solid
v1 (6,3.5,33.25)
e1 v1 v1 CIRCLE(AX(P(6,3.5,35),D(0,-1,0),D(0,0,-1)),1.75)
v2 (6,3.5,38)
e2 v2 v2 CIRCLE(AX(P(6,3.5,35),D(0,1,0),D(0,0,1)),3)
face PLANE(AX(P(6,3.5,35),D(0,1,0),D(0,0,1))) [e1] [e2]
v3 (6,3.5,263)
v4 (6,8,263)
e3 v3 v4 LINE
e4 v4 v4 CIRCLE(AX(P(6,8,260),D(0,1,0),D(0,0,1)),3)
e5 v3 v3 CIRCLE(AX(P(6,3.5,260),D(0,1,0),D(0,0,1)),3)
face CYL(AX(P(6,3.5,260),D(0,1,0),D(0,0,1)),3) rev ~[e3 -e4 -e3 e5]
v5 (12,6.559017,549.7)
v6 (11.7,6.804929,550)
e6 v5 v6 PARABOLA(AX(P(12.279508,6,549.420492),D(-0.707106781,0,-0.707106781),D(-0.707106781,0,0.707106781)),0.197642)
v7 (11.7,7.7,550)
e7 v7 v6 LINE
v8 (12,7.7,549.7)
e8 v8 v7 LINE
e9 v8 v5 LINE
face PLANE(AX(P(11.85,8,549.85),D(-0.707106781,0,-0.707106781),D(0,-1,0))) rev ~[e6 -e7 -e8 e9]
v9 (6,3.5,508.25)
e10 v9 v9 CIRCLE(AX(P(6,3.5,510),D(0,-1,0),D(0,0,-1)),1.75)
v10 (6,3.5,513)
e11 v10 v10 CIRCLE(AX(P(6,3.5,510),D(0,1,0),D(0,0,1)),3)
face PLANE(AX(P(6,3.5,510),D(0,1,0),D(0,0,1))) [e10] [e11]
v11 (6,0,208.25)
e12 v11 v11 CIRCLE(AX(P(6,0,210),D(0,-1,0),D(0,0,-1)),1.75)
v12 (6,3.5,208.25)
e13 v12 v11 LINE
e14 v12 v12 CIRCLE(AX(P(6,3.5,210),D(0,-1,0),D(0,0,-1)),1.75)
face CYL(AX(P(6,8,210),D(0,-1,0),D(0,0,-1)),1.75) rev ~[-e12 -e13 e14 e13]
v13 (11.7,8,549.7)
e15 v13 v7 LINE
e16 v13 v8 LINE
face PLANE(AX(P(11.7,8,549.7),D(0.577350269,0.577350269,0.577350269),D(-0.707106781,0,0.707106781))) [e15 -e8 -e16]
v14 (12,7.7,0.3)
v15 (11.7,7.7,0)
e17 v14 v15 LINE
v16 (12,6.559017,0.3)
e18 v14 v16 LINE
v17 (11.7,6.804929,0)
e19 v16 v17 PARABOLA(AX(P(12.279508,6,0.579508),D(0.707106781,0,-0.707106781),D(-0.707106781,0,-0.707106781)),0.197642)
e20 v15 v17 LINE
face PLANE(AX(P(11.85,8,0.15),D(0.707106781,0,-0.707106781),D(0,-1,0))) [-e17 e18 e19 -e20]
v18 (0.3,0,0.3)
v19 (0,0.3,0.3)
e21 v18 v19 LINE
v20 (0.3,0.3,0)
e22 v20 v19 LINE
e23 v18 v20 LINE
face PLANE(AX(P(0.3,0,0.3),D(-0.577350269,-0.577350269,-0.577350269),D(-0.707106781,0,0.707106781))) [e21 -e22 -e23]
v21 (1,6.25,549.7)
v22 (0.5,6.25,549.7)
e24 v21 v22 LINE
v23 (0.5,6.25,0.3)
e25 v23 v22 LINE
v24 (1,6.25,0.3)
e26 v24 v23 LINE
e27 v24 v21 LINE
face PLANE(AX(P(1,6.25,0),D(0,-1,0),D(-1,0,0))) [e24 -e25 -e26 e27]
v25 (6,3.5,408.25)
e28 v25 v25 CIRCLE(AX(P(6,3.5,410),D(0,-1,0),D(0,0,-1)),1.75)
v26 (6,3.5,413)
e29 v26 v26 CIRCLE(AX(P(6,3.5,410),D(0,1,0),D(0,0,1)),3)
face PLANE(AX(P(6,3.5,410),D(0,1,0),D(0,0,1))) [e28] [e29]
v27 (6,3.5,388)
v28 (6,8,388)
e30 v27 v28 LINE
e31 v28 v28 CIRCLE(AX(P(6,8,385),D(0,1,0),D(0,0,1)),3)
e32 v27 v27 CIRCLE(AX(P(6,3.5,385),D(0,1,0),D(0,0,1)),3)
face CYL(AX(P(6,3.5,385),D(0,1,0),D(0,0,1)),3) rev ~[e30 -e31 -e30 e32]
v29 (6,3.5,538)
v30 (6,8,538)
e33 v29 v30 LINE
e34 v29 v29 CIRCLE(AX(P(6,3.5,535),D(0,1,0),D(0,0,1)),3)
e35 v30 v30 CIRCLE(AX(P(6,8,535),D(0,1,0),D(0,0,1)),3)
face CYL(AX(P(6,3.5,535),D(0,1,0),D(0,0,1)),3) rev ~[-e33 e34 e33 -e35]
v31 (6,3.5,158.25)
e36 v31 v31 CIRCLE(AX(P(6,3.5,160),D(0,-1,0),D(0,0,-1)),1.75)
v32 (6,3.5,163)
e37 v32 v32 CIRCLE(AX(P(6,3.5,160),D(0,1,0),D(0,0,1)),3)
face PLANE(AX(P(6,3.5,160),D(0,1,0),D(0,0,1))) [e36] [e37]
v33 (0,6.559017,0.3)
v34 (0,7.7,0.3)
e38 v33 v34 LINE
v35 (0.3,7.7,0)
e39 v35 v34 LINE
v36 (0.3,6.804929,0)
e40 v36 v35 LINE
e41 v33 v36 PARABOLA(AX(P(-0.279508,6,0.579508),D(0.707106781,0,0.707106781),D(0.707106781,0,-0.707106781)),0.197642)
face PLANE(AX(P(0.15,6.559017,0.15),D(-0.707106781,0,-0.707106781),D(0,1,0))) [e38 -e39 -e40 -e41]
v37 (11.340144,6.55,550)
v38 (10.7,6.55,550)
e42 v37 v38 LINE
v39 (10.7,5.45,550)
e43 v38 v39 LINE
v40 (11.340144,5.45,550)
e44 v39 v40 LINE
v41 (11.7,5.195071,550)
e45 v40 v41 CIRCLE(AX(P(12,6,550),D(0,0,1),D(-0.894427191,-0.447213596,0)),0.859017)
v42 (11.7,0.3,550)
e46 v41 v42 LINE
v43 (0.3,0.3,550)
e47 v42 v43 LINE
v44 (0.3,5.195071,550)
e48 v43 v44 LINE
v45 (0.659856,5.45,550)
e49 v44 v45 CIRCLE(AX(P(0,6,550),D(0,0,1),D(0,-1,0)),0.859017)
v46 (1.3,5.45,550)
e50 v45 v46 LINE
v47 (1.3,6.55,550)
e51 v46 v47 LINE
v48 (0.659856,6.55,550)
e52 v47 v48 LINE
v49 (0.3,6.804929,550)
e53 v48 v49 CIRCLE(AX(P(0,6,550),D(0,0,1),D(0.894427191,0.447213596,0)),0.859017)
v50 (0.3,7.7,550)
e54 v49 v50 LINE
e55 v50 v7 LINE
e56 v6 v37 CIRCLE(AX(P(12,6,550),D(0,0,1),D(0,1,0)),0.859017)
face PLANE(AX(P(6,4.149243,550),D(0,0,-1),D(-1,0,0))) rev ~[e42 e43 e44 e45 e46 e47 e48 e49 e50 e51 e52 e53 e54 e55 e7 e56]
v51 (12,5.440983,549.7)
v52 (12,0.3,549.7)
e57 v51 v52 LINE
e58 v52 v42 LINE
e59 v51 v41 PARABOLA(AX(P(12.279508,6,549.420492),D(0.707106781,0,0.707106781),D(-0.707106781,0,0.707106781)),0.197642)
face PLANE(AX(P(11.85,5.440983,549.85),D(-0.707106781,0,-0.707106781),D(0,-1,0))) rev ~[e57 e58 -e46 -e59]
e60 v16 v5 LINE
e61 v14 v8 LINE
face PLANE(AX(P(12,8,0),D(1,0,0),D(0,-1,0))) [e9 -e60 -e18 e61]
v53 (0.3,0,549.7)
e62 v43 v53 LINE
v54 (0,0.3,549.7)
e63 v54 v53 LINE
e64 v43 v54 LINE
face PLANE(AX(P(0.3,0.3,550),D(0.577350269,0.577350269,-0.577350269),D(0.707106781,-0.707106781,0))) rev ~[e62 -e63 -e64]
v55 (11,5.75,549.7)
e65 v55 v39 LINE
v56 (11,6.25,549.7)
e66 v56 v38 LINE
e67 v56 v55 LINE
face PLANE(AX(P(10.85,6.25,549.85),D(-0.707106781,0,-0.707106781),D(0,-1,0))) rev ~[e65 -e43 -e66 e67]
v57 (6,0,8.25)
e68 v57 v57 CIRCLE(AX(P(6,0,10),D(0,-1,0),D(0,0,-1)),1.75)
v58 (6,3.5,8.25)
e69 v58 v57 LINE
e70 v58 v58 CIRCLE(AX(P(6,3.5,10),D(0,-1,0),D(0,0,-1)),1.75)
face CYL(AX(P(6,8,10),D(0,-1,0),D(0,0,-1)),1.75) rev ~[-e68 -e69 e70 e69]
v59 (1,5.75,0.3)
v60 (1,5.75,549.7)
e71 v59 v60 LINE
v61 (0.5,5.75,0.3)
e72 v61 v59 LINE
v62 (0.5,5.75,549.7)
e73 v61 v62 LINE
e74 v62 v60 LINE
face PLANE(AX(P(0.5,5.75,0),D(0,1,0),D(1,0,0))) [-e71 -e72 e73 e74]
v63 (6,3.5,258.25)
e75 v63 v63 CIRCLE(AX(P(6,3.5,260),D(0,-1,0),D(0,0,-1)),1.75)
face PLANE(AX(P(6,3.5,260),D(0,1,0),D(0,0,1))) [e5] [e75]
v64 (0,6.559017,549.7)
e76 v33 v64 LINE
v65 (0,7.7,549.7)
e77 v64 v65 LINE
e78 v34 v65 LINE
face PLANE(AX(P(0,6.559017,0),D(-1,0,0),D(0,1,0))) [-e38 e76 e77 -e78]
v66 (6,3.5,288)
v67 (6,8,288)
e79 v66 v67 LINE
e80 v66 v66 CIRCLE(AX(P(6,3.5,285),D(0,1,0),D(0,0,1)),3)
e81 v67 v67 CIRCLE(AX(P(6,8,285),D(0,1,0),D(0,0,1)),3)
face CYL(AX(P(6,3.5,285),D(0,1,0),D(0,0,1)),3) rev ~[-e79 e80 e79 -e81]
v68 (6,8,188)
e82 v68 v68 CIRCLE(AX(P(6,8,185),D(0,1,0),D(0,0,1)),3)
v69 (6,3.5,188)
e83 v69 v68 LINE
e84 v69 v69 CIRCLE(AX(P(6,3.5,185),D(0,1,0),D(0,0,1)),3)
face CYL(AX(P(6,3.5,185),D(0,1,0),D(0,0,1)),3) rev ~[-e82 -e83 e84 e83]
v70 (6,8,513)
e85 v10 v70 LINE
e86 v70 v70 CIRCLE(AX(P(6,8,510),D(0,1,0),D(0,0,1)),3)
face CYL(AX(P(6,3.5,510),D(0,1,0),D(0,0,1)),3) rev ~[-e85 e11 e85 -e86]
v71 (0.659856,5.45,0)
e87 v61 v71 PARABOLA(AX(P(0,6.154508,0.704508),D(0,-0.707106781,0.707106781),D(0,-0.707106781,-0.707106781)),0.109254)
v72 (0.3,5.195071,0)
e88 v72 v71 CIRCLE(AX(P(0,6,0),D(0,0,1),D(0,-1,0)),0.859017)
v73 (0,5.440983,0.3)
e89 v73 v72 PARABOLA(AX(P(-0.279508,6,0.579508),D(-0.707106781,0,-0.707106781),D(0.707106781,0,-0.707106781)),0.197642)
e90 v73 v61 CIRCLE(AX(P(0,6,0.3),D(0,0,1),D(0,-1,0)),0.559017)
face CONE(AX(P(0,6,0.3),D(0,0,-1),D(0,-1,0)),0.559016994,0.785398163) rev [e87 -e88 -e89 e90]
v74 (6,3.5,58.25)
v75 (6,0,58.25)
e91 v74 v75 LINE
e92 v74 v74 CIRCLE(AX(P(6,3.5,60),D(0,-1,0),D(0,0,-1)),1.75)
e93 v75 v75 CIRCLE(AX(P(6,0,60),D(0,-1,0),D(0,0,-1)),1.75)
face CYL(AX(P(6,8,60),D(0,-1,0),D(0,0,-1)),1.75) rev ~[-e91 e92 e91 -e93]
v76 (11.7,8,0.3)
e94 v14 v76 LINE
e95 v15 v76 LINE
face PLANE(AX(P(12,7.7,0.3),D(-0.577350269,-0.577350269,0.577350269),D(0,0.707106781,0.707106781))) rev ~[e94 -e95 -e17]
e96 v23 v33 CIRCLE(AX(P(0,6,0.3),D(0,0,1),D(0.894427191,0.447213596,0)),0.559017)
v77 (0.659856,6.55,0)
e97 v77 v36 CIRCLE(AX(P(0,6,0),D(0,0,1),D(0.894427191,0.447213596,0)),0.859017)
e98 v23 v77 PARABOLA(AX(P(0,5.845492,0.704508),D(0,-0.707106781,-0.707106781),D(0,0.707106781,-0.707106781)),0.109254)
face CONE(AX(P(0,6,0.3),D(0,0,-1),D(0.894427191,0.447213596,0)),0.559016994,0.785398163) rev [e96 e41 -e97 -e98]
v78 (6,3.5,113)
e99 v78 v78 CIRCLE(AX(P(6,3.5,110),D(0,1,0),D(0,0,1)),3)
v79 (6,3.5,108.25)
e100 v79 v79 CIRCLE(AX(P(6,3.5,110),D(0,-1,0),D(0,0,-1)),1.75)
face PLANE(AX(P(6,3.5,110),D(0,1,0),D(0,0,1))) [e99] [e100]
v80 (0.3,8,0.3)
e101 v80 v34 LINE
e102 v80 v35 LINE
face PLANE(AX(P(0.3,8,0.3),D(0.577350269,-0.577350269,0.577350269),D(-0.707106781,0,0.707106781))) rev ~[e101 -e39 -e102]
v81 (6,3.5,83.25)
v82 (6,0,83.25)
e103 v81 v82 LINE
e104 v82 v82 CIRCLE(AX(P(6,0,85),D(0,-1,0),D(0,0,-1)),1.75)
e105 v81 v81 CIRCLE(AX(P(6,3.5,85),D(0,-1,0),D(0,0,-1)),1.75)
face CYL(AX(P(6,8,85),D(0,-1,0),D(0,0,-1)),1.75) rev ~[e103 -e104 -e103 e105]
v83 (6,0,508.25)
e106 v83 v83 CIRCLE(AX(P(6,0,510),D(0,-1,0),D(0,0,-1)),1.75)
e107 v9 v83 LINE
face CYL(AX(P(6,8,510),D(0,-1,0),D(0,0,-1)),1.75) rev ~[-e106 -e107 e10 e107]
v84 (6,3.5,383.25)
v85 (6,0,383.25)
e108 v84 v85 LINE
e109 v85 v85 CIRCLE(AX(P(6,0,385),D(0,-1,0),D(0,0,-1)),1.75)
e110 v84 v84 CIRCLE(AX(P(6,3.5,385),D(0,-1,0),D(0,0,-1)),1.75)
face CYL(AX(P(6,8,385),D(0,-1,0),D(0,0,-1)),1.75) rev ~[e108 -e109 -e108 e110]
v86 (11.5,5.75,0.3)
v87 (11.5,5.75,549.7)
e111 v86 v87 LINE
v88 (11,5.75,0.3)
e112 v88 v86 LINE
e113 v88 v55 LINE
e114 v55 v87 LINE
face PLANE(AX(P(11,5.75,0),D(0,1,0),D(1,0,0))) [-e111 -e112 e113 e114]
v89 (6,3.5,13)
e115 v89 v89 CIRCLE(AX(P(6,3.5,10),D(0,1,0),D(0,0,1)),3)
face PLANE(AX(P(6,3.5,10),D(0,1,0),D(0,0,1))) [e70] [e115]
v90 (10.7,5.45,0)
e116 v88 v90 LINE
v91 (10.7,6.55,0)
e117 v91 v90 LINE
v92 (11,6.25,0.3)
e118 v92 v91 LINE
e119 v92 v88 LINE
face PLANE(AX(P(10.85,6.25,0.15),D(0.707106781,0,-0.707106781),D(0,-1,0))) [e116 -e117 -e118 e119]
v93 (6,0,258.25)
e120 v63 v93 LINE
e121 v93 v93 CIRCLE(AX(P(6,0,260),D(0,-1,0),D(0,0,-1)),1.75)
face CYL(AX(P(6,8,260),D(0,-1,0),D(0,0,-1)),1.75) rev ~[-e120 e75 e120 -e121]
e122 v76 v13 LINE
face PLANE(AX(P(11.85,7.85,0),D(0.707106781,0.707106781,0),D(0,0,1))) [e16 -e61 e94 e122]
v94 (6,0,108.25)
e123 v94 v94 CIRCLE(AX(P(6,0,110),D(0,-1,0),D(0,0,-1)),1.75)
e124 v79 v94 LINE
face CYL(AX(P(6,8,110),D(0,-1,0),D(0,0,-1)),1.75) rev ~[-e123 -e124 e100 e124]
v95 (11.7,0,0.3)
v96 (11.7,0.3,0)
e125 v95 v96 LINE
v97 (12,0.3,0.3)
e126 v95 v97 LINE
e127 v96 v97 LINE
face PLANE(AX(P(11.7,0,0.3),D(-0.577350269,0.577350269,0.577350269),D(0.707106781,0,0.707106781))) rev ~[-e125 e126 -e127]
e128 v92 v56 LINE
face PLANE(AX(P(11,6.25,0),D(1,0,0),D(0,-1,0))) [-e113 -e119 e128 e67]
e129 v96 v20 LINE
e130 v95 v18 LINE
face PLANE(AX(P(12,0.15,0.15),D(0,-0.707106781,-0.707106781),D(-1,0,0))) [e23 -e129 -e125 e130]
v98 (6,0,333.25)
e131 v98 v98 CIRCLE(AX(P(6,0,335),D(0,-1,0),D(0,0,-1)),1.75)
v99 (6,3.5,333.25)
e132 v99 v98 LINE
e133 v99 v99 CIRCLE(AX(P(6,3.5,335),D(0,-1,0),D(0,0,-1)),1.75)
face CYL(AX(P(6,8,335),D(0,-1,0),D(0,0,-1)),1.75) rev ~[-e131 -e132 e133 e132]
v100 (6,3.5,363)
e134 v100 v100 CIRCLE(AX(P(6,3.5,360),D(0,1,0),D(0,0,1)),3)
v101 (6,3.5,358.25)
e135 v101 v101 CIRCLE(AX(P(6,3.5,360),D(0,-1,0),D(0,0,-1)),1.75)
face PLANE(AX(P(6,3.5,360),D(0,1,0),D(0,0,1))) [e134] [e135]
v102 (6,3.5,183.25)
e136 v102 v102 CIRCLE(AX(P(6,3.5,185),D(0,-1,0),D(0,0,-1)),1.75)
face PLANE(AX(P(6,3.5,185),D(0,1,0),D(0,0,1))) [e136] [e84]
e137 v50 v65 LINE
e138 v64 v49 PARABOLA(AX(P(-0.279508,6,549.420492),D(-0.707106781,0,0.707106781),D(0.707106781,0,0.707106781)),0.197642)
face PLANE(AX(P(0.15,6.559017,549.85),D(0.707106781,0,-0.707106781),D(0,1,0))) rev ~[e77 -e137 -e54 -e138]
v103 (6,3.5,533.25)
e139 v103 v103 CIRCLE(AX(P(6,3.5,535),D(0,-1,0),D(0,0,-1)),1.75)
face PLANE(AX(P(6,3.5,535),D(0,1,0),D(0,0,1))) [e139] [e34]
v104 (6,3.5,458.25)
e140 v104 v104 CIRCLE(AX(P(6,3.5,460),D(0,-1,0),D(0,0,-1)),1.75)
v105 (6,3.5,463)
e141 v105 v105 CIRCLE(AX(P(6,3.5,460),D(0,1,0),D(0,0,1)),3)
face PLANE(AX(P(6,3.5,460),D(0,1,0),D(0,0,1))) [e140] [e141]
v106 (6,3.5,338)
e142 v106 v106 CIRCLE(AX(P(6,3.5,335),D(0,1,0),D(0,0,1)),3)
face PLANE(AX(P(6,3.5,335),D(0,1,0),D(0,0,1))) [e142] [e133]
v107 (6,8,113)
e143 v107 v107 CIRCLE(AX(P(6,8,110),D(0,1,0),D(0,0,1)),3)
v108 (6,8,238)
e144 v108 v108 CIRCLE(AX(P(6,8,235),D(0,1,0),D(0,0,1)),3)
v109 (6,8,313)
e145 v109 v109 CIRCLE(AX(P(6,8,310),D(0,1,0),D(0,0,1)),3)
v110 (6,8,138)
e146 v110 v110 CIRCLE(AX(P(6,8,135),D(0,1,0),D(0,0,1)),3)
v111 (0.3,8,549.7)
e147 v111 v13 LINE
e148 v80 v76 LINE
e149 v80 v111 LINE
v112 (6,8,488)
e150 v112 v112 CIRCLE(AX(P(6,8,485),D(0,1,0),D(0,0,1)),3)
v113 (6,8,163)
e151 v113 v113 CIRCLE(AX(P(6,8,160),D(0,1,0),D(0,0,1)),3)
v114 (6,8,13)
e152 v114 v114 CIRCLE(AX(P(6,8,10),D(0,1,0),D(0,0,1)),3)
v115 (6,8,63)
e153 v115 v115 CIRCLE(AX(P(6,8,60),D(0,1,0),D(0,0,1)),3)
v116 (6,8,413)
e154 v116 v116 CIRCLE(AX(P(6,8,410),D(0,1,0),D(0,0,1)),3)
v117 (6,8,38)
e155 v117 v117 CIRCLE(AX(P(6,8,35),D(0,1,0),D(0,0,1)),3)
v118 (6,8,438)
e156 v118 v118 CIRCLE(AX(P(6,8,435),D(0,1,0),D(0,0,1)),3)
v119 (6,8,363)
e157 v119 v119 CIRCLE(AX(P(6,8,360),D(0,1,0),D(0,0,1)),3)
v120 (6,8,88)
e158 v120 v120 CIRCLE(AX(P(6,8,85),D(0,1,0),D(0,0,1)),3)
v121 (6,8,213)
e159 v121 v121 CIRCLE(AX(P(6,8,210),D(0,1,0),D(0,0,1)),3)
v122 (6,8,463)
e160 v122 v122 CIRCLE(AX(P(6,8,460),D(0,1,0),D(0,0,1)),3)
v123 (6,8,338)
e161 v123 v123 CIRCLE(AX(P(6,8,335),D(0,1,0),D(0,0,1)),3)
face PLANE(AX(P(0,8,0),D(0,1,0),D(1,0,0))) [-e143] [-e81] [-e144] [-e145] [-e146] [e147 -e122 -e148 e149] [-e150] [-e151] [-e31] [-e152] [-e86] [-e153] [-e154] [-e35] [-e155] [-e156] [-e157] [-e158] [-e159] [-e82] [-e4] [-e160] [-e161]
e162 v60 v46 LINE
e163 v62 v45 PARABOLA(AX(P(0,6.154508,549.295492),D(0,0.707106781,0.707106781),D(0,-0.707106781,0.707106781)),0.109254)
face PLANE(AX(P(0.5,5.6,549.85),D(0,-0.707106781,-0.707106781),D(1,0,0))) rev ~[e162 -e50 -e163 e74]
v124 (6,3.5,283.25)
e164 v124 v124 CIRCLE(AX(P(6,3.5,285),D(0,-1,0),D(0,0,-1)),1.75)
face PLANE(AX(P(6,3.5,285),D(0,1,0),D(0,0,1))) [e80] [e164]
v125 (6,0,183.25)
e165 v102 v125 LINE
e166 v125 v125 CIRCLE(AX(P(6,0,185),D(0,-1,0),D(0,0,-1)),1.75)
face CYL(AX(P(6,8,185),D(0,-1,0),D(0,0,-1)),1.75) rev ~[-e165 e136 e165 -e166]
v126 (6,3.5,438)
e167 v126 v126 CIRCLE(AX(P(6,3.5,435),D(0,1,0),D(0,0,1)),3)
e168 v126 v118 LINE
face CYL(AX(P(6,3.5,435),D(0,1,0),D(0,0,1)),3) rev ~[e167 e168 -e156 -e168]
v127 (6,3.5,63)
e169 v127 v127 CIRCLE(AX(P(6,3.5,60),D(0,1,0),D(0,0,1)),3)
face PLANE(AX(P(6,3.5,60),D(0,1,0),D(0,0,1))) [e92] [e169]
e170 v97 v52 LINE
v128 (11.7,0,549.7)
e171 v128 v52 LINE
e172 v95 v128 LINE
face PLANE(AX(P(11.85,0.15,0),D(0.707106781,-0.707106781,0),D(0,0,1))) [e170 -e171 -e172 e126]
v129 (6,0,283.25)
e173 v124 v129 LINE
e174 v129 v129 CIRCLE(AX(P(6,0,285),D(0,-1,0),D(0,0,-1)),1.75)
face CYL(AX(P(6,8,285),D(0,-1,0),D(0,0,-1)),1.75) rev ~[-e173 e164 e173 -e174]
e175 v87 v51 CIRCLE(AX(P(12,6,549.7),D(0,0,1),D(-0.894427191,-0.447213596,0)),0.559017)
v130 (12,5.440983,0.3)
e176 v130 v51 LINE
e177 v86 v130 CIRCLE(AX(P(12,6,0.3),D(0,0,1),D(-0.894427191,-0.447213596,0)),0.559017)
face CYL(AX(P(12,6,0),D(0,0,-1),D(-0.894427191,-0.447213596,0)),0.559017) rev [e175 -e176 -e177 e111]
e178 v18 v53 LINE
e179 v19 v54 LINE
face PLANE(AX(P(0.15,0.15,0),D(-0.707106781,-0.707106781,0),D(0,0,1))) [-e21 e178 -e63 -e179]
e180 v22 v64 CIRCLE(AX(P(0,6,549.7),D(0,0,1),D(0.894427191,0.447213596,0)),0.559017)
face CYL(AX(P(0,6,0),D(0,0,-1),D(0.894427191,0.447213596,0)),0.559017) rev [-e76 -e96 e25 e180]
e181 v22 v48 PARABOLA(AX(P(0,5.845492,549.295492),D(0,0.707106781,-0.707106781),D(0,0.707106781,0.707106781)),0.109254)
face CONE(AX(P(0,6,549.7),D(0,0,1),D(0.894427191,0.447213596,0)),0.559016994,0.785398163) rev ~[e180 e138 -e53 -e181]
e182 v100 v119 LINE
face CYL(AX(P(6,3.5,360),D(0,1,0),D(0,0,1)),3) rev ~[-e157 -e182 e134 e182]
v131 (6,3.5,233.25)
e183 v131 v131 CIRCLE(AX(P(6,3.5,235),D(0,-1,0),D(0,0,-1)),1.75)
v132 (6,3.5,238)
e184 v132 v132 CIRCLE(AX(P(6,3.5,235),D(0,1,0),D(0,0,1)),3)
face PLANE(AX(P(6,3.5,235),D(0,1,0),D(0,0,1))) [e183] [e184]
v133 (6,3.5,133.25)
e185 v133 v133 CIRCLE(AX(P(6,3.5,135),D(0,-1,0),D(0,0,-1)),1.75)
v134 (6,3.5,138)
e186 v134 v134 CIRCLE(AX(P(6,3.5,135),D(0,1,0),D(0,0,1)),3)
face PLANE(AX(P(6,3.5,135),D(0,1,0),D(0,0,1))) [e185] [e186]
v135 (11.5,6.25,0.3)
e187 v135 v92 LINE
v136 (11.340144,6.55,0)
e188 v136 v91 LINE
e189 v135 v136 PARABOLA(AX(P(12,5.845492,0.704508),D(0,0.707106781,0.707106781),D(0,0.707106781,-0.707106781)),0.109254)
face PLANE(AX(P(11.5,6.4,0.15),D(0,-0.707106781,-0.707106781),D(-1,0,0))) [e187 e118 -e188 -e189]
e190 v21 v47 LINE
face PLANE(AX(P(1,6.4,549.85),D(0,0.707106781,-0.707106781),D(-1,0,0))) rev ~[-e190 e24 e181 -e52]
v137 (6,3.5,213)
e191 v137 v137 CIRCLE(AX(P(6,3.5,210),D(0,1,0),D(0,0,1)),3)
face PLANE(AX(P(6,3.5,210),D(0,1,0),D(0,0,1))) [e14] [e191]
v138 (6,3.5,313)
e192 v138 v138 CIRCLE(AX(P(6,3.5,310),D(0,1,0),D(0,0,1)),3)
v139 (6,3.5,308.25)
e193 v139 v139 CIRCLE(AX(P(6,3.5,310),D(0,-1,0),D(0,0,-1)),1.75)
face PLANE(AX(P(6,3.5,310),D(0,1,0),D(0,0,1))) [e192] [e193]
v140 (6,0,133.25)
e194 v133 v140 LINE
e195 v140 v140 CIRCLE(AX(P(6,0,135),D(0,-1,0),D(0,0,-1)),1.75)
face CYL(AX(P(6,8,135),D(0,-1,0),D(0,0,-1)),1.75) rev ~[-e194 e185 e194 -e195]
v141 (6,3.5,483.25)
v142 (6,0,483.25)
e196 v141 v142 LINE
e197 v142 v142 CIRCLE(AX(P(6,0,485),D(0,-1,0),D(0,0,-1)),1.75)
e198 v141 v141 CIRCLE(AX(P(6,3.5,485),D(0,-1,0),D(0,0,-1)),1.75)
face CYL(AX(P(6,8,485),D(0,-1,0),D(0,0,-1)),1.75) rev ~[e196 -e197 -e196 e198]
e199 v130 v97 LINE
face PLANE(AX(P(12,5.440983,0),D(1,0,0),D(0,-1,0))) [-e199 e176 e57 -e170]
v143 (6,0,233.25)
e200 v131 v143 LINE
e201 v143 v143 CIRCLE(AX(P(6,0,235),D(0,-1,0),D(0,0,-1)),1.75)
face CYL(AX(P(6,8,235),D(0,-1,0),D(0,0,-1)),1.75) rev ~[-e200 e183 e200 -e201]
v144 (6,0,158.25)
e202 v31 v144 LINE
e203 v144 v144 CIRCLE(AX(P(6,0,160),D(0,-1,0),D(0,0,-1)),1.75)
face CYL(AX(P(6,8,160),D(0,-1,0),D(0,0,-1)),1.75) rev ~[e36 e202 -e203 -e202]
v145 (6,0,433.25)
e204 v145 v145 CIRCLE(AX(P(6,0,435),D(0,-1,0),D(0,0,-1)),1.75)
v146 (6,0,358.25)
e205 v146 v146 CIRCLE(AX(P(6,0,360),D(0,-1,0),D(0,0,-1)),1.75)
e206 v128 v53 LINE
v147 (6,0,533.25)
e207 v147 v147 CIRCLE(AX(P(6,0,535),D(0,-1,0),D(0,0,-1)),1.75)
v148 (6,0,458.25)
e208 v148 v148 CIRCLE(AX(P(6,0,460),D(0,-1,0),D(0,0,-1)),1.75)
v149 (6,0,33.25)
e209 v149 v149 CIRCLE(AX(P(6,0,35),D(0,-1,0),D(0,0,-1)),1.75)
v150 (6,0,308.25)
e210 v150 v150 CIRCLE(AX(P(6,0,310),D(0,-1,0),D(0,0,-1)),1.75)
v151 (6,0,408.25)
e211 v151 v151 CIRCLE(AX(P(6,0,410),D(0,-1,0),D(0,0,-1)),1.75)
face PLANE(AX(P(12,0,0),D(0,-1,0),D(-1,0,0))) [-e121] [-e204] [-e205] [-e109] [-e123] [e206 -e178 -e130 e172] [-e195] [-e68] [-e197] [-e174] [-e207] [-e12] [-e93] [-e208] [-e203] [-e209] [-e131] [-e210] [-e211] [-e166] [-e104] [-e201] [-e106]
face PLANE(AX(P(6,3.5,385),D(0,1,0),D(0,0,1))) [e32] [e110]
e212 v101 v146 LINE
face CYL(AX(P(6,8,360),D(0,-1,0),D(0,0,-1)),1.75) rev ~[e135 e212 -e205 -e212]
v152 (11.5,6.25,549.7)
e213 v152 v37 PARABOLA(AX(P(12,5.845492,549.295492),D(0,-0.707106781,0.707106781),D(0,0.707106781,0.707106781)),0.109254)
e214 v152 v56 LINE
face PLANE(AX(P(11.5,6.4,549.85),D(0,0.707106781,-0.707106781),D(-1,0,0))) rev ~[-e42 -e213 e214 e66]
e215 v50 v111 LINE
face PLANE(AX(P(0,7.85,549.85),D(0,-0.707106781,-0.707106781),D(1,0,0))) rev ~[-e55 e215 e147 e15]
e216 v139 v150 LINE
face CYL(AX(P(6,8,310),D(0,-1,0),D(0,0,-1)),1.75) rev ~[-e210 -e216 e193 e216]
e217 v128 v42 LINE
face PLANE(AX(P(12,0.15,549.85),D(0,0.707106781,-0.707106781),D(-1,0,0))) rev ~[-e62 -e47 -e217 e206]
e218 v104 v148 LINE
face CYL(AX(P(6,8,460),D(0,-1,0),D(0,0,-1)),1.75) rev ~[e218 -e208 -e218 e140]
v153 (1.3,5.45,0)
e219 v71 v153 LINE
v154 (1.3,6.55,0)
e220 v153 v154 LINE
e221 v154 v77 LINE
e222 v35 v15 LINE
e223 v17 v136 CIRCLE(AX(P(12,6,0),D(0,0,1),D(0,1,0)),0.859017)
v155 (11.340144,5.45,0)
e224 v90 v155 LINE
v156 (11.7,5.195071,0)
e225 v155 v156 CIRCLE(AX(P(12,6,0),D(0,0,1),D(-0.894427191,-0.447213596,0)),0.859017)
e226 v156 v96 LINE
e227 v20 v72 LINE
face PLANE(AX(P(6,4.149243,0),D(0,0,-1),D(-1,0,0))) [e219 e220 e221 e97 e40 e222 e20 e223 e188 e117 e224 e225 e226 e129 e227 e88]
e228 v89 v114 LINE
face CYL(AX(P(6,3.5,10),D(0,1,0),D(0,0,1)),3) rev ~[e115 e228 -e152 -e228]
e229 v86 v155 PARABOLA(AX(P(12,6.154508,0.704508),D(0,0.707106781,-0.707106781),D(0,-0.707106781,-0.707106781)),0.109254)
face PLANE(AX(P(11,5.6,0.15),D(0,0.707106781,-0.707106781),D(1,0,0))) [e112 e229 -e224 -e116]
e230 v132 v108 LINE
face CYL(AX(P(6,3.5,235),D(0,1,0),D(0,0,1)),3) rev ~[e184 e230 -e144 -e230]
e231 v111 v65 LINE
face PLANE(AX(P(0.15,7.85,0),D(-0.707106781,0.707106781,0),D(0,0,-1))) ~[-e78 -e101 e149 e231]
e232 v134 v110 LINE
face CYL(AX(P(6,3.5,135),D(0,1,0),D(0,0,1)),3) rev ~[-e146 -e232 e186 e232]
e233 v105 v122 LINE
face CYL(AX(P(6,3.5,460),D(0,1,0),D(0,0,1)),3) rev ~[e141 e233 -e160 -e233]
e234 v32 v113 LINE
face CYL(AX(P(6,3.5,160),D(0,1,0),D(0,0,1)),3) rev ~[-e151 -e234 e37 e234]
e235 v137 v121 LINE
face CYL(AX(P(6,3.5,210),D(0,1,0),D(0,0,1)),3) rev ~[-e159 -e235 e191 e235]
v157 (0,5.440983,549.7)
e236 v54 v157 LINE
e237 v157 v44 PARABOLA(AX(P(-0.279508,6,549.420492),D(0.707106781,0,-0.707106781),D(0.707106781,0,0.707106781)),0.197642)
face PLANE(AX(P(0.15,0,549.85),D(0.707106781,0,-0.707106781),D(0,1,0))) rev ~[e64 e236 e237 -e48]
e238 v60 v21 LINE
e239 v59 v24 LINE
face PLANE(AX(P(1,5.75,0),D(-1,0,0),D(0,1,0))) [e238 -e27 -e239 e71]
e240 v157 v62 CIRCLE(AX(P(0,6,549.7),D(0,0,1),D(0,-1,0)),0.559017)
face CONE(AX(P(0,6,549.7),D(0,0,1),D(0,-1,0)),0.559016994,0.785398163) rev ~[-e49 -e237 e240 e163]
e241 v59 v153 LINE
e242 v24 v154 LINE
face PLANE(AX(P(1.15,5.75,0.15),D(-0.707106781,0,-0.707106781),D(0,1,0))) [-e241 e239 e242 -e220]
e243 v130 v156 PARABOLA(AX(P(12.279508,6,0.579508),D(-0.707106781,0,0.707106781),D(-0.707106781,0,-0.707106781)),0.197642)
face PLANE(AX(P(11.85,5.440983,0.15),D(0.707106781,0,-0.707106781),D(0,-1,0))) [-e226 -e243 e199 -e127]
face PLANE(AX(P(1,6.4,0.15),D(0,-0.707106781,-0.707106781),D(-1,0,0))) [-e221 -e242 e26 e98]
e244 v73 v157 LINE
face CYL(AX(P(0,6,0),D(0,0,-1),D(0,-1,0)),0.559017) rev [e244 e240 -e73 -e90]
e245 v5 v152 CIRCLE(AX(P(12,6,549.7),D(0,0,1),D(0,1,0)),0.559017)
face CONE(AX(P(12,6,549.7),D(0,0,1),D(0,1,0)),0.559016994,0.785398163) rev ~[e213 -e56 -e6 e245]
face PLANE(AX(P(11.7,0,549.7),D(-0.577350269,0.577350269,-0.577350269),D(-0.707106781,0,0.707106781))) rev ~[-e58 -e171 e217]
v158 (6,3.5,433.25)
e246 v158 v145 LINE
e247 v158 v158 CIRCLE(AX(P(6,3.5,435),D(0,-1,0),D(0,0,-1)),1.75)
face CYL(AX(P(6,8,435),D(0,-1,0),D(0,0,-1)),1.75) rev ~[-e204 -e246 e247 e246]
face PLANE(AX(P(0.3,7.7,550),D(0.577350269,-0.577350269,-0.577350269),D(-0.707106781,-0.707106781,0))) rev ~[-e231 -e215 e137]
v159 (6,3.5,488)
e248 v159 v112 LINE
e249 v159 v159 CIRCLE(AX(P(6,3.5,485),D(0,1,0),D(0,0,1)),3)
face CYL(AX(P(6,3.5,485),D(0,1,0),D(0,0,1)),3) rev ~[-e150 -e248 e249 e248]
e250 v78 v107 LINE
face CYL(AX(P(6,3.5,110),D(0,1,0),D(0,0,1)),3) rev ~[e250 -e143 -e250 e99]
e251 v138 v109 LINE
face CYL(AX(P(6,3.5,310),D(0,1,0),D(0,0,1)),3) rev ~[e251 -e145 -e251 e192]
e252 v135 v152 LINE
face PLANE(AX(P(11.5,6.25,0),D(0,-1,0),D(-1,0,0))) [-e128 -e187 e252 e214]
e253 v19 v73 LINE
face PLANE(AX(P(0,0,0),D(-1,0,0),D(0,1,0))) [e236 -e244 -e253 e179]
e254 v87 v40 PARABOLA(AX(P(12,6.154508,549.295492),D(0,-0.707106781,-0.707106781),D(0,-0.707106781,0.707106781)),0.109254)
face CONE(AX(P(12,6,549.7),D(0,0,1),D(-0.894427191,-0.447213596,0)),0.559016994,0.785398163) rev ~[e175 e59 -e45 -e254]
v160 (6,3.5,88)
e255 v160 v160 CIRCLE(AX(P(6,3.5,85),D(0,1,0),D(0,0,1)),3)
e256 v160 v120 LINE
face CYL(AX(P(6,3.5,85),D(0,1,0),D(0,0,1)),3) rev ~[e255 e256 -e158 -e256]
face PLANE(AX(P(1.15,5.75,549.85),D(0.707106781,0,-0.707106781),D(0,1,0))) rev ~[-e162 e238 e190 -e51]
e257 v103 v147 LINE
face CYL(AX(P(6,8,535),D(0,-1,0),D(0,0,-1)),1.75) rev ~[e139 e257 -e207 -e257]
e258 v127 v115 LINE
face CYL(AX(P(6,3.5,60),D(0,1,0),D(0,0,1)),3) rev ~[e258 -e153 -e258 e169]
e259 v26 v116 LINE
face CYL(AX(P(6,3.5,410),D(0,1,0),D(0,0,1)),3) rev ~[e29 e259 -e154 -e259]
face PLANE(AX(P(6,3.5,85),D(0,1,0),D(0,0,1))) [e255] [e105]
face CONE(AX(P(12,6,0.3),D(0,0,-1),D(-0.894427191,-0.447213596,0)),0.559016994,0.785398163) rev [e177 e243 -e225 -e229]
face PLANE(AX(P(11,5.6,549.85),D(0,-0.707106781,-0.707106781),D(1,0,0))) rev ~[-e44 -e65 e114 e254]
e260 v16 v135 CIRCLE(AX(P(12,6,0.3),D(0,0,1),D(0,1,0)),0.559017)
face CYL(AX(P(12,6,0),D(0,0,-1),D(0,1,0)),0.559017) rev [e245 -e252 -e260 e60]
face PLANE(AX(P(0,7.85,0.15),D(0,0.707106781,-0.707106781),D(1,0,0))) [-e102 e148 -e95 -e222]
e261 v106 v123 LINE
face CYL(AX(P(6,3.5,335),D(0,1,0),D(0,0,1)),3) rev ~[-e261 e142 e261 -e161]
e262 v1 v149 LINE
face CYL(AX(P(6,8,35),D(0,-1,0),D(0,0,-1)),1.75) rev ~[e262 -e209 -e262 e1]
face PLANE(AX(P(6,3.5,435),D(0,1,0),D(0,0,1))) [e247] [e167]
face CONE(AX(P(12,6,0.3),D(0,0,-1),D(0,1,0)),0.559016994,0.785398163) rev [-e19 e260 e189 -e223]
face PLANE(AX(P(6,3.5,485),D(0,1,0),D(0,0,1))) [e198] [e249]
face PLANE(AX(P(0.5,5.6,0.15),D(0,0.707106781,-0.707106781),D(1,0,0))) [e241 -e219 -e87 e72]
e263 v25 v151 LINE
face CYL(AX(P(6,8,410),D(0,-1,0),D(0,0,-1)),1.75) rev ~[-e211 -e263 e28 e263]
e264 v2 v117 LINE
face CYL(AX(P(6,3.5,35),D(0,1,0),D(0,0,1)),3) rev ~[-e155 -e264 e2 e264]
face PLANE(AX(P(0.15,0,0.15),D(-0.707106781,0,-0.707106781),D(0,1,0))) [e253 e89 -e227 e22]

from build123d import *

# Parameters (mm, degrees)
BOSS_EXTRUDE1_DEPTH         = 550
CHAMFER1_SIZE               = 0.3
HOLE_WIZARD_M51_D           = 3.5
HOLE_WIZARD_M51_CBORE_D     = 6
HOLE_WIZARD_M51_CBORE_DEPTH = 4.5
LPATTERN1_COUNT             = 22
LPATTERN1_PITCH             = 25


with BuildPart() as part:
    # Sketch1 → Boss-Extrude1 (new body)
    with BuildSketch(Plane.XY):
        with BuildLine():
            Line((0, 8), (12, 8))
            Line((12, 8), (12, 6.75))
            Line((12, 6.75), (12, 6.559016994))
            ThreePointArc((12, 6.559016994), (11.706107374, 6.475528258), (11.5, 6.25))
            Line((11.5, 6.25), (11, 6.25))
            Line((11, 6.25), (11, 5.75))
            Line((11, 5.75), (11.5, 5.75))
            ThreePointArc((11.5, 5.75), (11.706107374, 5.524471742), (12, 5.440983006))
            Line((12, 5.440983006), (12, 5.25))
            Line((12, 5.25), (12, 0))
            Line((12, 0), (0, 0))
            Line((0, 0), (0, 5.25))
            Line((0, 5.25), (0, 5.440983006))
            ThreePointArc((0, 5.440983006), (0.293892626, 5.524471742), (0.5, 5.75))
            Line((0.5, 5.75), (1, 5.75))
            Line((1, 5.75), (1, 6.25))
            Line((1, 6.25), (0.5, 6.25))
            ThreePointArc((0.5, 6.25), (0.293892626, 6.475528258), (0, 6.559016994))
            Line((0, 6.559016994), (0, 6.75))
            Line((0, 6.75), (0, 8))
        make_face()
    extrude(amount=BOSS_EXTRUDE1_DEPTH)

    # Chamfer1
    chamfer1_edges = [part.edges().sort_by_distance(p)[0] for p in [
        (12, 2.720491503, 550),
        (11.706107374, 5.524471742, 550),
        (0, 2.720491503, 0),
        (0.293892626, 5.524471742, 0),
        (0.75, 5.75, 0),
        (1, 6, 0),
        (0.75, 6.25, 0),
        (11.25, 5.75, 550),
        (0.293892626, 6.475528258, 0),
        (0, 7.279508497, 0),
        (6, 8, 0),
        (12, 7.279508497, 0),
        (11.706107374, 6.475528258, 0),
        (11, 6, 550),
        (11.25, 6.25, 0),
        (11, 6, 0),
        (11.25, 5.75, 0),
        (11.706107374, 5.524471742, 0),
        (12, 2.720491503, 0),
        (6, 0, 0),
        (11.25, 6.25, 550),
        (11.706107374, 6.475528258, 550),
        (12, 7.279508497, 550),
        (0, 8, 275),
        (12, 8, 275),
        (12, 0, 275),
        (0, 0, 275),
        (6, 8, 550),
        (0, 2.720491503, 550),
        (0, 7.279508497, 550),
        (0.293892626, 6.475528258, 550),
        (0.75, 6.25, 550),
        (1, 6, 550),
        (0.75, 5.75, 550),
        (0.293892626, 5.524471742, 550),
        (6, 0, 550),
    ]]
    chamfer(chamfer1_edges, length=CHAMFER1_SIZE)

    # Цековка для  болта с шестигранной головкой M51 (through all)
    with Locations(Plane(origin=(6, 8, 10), x_dir=(0, 0, 1), z_dir=(0, 1, 0))):
        with Locations((0, 0)):
            hole_wizard_m51 = CounterBoreHole(HOLE_WIZARD_M51_D / 2, HOLE_WIZARD_M51_CBORE_D / 2, HOLE_WIZARD_M51_CBORE_DEPTH)

    # LPattern1: Цековка для  болта с шестигранной головкой M51 ×22
    with Locations(*[(0, 0, i * LPATTERN1_PITCH) for i in range(1, LPATTERN1_COUNT)]):
        add(hole_wizard_m51, mode=Mode.SUBTRACT)


solid = part.part
